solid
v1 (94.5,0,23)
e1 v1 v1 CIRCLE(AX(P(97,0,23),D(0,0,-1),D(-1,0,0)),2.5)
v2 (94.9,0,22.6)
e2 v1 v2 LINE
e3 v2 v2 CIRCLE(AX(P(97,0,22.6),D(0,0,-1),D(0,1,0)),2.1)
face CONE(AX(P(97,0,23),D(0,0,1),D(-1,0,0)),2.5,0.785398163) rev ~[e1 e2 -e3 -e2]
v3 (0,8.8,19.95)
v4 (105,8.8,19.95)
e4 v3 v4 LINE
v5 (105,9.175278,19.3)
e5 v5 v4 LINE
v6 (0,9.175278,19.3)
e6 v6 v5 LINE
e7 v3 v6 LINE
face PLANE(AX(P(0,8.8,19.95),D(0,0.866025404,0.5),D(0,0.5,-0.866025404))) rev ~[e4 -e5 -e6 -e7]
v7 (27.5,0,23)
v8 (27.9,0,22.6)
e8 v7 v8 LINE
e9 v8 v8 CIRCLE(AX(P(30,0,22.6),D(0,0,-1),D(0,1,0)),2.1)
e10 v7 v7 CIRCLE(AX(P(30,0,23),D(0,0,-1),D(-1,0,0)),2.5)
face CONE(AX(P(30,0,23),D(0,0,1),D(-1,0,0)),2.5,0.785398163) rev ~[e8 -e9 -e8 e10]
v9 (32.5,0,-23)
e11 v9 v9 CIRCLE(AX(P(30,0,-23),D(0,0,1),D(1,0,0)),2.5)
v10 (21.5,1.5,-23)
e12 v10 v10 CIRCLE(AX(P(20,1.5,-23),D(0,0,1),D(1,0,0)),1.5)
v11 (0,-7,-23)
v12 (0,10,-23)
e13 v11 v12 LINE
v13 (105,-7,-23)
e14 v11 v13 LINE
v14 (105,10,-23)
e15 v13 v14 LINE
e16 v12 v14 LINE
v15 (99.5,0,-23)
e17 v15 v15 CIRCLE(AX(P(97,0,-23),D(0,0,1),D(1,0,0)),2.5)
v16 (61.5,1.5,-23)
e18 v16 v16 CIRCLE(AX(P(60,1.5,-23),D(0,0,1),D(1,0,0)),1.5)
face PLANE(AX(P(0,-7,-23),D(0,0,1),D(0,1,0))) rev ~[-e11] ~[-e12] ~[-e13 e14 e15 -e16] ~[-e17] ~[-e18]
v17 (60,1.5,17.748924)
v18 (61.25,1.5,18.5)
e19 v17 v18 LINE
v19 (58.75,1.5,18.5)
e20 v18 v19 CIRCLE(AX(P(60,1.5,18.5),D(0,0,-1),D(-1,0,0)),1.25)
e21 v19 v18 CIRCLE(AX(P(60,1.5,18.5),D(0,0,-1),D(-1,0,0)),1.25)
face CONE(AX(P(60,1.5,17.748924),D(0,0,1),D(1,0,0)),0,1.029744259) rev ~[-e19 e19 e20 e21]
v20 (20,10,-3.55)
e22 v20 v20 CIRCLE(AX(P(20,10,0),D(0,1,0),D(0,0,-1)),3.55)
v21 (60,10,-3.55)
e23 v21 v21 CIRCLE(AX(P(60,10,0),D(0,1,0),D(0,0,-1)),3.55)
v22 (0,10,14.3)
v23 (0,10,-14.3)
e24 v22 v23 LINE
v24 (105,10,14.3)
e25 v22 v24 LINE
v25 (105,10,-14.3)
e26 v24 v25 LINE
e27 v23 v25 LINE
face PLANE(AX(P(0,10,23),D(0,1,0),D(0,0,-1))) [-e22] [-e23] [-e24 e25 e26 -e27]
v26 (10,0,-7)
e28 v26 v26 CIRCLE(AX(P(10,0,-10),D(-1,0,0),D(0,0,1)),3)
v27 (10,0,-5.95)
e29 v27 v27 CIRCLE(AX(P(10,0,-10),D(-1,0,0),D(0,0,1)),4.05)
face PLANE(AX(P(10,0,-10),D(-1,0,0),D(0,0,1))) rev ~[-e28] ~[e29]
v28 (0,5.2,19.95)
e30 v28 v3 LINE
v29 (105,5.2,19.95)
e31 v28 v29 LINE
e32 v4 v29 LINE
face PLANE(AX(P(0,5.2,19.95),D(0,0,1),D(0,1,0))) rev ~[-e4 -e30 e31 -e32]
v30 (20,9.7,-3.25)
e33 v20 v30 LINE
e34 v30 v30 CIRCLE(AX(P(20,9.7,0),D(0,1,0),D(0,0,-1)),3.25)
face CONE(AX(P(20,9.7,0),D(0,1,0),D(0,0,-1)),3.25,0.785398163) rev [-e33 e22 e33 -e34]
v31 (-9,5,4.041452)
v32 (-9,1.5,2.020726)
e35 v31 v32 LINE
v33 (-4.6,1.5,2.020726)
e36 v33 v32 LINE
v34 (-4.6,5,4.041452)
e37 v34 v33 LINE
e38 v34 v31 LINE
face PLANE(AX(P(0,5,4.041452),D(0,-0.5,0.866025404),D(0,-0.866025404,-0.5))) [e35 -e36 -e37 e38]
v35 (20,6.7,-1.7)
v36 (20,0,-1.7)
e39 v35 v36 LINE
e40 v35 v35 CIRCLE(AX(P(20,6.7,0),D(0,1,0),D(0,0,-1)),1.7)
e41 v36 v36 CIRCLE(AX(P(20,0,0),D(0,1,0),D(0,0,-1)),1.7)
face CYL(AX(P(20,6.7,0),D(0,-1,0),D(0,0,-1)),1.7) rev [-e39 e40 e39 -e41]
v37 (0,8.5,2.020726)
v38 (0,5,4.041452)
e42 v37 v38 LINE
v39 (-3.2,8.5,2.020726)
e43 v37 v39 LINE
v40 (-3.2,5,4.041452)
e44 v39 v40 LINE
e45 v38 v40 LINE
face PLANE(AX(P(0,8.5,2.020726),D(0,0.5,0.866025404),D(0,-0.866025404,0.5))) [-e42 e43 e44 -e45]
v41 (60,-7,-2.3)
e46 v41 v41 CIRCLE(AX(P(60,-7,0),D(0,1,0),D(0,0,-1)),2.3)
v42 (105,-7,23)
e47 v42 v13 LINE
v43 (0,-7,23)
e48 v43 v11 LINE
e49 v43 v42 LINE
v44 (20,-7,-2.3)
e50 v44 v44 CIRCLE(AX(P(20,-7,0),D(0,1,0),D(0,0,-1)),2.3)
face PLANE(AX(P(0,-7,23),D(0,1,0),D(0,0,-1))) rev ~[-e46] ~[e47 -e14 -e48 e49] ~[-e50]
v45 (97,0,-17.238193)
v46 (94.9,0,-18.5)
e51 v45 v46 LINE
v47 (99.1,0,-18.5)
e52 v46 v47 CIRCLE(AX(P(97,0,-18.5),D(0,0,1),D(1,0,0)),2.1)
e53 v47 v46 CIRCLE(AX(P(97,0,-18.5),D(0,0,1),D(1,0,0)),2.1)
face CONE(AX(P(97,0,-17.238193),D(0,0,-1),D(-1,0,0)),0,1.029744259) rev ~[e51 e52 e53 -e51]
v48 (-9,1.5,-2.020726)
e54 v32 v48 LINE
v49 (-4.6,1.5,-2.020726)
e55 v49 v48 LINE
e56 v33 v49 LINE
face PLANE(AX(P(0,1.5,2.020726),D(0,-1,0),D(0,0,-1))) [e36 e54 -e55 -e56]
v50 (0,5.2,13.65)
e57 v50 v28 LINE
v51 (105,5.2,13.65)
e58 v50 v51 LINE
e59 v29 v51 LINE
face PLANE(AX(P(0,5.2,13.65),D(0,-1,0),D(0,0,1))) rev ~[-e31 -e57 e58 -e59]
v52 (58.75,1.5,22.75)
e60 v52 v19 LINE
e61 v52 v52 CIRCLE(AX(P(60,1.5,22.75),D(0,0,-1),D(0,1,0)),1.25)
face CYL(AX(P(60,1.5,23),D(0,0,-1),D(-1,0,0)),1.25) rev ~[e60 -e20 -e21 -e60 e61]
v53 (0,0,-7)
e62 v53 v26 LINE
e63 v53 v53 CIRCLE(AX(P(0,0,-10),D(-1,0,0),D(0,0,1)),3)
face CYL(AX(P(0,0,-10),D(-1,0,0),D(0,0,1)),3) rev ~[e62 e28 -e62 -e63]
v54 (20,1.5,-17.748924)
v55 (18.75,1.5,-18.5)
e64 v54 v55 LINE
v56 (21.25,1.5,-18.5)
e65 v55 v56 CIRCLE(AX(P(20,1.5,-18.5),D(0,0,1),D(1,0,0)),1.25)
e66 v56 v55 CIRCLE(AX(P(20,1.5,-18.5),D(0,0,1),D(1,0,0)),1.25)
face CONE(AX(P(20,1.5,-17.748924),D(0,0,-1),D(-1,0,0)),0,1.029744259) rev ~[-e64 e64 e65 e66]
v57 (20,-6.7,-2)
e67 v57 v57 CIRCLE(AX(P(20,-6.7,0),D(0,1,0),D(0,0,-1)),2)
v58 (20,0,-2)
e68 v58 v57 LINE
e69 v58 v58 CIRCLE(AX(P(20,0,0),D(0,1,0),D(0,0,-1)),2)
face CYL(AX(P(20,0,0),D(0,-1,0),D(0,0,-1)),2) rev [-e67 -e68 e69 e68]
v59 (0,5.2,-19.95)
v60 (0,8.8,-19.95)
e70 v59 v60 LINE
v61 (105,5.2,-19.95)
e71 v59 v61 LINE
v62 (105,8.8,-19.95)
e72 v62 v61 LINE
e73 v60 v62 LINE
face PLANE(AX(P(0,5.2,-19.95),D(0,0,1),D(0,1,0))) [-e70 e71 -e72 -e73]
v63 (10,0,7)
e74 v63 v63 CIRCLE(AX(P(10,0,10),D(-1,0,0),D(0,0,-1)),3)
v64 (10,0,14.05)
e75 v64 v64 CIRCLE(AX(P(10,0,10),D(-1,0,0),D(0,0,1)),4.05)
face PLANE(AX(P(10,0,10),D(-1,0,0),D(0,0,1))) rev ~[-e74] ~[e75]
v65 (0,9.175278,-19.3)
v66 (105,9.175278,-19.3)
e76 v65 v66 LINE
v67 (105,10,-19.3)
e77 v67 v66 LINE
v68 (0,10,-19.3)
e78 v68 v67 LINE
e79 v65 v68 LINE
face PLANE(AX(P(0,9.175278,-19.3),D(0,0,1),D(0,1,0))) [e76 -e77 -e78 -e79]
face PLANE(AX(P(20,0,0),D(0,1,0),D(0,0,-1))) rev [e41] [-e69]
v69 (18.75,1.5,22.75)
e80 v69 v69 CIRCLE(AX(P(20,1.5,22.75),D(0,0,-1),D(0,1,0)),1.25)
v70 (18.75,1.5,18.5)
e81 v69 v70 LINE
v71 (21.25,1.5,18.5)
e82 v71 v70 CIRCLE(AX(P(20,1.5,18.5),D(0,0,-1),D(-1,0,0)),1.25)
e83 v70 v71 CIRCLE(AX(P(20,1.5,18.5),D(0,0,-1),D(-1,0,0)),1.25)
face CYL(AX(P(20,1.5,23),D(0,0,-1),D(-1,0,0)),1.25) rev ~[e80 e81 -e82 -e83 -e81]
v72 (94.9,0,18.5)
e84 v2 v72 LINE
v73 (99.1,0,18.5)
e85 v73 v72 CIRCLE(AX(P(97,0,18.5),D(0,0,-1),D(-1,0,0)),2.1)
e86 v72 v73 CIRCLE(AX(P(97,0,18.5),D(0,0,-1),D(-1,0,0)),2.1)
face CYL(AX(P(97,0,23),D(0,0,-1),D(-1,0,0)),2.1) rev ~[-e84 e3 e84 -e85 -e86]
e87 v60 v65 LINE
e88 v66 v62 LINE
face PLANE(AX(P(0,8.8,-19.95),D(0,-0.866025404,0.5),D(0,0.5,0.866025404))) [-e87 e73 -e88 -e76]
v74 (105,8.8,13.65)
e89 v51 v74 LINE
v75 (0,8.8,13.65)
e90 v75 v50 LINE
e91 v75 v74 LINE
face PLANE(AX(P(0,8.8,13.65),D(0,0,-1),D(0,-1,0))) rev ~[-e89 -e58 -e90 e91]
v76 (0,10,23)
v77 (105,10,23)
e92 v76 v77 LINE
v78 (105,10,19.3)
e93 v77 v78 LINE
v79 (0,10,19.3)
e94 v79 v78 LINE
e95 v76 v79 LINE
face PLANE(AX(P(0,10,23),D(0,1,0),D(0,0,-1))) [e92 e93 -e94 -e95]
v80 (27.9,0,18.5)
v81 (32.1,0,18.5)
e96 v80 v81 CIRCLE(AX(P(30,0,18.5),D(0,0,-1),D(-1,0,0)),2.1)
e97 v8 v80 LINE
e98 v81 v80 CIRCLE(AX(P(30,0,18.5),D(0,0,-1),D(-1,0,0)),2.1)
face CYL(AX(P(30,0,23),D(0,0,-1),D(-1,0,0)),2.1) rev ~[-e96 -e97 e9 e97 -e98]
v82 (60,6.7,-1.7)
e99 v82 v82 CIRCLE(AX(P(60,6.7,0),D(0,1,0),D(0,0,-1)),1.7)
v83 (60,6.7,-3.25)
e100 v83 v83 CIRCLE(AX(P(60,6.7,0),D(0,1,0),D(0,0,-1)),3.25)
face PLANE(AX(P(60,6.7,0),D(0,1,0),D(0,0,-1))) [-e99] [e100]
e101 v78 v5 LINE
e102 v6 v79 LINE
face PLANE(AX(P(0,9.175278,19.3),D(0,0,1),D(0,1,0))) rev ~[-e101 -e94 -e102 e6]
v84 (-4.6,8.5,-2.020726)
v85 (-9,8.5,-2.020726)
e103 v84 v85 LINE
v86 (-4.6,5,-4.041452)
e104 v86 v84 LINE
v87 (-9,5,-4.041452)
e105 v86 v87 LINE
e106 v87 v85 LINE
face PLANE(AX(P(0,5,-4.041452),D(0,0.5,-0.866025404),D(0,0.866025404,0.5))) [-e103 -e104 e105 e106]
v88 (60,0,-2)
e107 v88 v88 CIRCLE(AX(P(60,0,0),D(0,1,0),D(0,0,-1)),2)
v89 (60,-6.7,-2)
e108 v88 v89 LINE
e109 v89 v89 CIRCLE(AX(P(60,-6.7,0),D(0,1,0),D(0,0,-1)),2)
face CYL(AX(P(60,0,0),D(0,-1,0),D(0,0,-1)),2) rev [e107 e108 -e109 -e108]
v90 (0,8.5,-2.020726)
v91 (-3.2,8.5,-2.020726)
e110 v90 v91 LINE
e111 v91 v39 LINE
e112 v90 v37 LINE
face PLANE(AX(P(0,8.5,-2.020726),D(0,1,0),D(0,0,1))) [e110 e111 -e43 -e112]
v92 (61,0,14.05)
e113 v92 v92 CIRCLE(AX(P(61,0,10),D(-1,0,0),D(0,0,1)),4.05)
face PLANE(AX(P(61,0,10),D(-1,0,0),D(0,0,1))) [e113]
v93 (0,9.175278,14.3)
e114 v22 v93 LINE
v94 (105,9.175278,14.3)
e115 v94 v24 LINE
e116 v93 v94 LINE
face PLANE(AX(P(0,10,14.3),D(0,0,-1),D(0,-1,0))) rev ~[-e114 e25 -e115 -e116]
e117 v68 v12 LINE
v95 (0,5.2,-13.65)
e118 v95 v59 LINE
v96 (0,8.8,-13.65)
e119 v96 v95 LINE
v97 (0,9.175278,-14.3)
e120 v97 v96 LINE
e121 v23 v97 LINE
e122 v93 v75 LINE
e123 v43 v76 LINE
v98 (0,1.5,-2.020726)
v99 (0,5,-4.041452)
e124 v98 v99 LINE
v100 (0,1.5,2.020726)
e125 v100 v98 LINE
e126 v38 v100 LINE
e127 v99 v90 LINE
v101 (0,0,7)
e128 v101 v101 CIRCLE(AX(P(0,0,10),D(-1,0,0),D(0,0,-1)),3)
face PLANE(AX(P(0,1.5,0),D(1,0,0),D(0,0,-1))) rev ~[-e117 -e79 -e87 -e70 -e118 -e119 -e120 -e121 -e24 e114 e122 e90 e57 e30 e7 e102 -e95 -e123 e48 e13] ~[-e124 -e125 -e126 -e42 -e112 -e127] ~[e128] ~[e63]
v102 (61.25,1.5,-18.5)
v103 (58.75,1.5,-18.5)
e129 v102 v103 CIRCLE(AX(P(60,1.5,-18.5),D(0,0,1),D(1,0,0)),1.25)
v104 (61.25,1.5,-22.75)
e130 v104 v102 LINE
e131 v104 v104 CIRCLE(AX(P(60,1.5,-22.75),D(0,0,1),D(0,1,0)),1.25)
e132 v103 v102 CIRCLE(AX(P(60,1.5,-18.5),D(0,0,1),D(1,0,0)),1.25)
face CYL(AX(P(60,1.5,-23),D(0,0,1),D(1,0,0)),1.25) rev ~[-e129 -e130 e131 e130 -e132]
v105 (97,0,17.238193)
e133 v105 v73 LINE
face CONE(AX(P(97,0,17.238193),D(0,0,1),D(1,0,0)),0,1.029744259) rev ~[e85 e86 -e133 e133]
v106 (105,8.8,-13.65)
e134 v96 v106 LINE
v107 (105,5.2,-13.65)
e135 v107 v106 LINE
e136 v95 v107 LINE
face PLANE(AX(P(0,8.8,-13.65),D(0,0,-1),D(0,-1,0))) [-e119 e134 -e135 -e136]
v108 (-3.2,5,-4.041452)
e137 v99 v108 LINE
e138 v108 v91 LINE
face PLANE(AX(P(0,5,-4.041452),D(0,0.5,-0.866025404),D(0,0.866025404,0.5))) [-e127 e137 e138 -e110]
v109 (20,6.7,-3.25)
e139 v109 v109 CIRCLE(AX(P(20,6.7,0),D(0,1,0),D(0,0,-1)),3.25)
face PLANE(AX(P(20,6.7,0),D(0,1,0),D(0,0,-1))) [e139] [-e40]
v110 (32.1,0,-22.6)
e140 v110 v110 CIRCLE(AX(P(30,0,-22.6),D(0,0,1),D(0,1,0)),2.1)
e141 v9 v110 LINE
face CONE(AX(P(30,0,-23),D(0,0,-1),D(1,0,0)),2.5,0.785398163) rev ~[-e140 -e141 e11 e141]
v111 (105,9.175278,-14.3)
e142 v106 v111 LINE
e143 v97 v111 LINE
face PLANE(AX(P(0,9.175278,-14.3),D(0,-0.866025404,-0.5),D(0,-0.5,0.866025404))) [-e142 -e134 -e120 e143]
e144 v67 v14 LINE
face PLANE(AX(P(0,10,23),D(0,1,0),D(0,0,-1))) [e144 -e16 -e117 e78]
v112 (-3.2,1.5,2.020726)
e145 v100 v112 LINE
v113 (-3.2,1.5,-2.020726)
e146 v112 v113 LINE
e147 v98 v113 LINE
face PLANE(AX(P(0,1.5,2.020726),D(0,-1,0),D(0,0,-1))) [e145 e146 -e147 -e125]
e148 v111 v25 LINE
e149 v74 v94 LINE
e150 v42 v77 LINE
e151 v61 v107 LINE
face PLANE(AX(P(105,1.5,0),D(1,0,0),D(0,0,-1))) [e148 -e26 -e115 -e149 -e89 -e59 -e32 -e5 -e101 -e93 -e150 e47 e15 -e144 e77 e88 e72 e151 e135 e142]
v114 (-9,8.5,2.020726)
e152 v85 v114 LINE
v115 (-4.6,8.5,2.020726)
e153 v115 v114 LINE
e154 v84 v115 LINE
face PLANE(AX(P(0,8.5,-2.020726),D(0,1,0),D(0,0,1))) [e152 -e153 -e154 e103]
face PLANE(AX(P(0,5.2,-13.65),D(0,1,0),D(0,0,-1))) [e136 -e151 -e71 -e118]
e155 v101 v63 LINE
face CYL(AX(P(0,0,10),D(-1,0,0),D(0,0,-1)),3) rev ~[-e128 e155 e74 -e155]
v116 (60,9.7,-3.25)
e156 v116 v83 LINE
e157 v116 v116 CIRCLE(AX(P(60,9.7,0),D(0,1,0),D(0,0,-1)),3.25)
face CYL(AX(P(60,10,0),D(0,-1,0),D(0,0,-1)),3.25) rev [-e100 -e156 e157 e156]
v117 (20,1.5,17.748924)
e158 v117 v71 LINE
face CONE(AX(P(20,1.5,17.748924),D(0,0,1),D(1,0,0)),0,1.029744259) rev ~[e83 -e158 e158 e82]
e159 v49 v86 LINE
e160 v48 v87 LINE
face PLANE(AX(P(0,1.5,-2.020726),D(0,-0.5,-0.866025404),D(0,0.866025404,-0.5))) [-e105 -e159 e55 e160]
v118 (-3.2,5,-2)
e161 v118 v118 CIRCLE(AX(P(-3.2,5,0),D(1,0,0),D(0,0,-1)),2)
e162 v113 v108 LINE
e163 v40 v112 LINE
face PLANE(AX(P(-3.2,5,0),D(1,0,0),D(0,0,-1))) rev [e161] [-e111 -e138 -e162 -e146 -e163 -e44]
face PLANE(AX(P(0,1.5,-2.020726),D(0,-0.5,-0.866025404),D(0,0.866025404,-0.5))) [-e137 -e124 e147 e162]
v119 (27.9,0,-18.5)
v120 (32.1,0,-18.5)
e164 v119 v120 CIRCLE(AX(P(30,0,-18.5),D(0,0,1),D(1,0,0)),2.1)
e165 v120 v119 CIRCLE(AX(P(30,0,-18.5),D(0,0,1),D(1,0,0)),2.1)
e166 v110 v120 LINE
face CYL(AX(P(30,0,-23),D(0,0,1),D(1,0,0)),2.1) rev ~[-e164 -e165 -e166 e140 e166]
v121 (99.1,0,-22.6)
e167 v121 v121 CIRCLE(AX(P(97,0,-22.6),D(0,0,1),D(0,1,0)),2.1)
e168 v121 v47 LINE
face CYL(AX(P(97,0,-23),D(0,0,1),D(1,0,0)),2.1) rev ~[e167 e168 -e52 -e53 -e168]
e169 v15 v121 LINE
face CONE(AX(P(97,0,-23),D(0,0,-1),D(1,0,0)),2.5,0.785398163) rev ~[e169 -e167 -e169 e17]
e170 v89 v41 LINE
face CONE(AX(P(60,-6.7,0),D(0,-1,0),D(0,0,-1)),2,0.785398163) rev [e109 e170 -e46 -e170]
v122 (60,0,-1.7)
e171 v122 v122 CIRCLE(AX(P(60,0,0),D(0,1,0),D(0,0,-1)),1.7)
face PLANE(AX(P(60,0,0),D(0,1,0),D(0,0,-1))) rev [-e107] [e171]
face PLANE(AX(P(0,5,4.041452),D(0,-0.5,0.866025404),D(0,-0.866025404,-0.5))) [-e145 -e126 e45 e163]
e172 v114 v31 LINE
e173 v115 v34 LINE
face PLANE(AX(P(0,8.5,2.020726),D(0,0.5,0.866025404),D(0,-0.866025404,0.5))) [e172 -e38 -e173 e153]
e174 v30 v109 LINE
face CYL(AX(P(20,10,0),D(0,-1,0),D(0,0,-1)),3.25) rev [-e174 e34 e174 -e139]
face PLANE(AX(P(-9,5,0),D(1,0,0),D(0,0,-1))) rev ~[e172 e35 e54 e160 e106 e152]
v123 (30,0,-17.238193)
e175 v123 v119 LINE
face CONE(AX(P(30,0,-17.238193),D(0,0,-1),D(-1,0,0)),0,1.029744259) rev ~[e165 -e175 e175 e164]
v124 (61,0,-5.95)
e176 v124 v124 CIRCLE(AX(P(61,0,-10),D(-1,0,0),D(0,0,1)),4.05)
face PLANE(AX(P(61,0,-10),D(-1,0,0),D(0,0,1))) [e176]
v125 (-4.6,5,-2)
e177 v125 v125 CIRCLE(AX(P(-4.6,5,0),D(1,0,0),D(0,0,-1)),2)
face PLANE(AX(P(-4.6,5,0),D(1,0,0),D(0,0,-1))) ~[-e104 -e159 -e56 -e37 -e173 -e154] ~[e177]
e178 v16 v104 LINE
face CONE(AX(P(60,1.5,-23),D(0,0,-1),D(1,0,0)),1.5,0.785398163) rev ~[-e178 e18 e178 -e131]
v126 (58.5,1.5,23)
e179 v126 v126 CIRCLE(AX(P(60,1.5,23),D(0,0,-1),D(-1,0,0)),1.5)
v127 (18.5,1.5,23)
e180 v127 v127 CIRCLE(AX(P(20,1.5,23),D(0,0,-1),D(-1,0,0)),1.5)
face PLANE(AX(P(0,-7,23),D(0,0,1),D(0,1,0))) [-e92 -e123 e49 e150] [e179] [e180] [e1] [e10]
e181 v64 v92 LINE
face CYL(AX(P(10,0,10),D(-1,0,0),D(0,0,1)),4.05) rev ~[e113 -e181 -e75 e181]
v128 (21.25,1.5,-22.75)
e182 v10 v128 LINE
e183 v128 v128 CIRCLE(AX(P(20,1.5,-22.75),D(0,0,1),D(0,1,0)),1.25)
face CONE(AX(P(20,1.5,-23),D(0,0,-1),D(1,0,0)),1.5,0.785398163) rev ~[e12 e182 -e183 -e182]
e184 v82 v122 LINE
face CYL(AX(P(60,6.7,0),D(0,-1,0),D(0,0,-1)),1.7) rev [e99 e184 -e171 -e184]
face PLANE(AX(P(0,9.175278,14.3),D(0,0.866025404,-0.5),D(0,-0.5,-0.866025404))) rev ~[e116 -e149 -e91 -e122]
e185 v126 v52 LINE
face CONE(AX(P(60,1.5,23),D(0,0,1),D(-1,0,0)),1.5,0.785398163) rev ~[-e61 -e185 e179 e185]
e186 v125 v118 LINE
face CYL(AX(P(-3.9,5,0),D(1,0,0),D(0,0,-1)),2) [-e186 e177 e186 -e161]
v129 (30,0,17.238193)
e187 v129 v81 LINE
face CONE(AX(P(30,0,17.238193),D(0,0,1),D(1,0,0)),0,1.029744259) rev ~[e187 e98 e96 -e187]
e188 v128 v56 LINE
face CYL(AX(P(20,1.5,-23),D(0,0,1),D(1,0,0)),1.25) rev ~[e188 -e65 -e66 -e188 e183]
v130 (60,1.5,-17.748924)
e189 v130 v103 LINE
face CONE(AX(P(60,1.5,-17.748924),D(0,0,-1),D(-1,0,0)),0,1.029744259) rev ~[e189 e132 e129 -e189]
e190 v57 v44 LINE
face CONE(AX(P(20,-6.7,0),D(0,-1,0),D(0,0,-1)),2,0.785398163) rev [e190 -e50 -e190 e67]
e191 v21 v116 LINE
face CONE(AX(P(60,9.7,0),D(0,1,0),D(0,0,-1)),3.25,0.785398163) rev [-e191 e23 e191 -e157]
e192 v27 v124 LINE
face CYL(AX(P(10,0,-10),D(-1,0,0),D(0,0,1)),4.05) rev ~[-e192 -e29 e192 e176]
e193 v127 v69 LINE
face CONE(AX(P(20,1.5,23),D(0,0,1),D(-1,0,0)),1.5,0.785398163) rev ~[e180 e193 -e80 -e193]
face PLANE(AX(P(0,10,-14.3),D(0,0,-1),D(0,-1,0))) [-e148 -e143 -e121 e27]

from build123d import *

# Parameters (mm, degrees)
BODY_SKETCH_W                                = 46
BODY_SKETCH_H                                = 17
BODY_DEPTH                                   = 105
BODY_ROD_HOLES_SKETCH_R                      = 3
BODY_ROD_HOLES_DEPTH                         = 10
BODY_PISTON_HOLES_SKETCH_R                   = 4.05
BODY_PISTON_HOLES_DEPTH                      = 51
TOP_SWITCH_GROOVES_DEPTH                     = 108.953693777
SHCS_MGT_HOLE_CHAM_SIZE                      = 0.3
SHCS_MGT_HOLE_PAT_COUNT                      = 2
SHCS_MGT_HOLE_PAT_PITCH                      = 40
SHCS_MGT_HOLE_CHAM_OF_SHCS_MGT_HOLE_PAT_SIZE = 0.3
SHCS_MGT_HOLE_BOT_TAP_AT_2_COUNT             = 2
SHCS_MGT_HOLE_BOT_TAP_AT_2_PITCH             = 40
ADJUSTER_NUT_DEPTH                           = 9
ADJUSTER_NUT_THREADS_SKETCH_W                = 1.4
ADJUSTER_NUT_THREADS_SKETCH_H                = 17
TAP_DRILL_FOR_M5X0_8_TAP1_D                  = 4.2
TAP_DRILL_FOR_M5X0_8_TAP1_DEPTH              = 4.5
TAP_DRILL_FOR_M5X0_8_TAP1_CSINK_D            = 5
TAP_DRILL_FOR_M5X0_8_TAP1_CSINK_ANGLE        = 90
TAP_DRILL_FOR_M5X0_8_TAP1_TIP                = 1.2618073
TAP_DRILL_FOR_M5X0_8_TAP2_D                  = 4.2
TAP_DRILL_FOR_M5X0_8_TAP2_DEPTH              = 4.5
TAP_DRILL_FOR_M5X0_8_TAP2_CSINK_D            = 5
TAP_DRILL_FOR_M5X0_8_TAP2_CSINK_ANGLE        = 90
TAP_DRILL_FOR_M5X0_8_TAP2_TIP                = 1.2618073
MOUNT_HOLES_1_D                              = 2.5
MOUNT_HOLES_1_DEPTH                          = 4.5
MOUNT_HOLES_1_CSINK_D                        = 3
MOUNT_HOLES_1_CSINK_ANGLE                    = 90
MOUNT_HOLES_1_TIP                            = 0.751075774
MOUNT_HOLES_2_D                              = 2.5
MOUNT_HOLES_2_DEPTH                          = 4.5
MOUNT_HOLES_2_CSINK_D                        = 3
MOUNT_HOLES_2_CSINK_ANGLE                    = 90
MOUNT_HOLES_2_TIP                            = 0.751075774


with BuildPart() as part:
    # Body_Sketch → Body (new body)
    with BuildSketch(Plane(origin=(0, 0, 0), x_dir=(0, 0, -1), z_dir=(1, 0, 0))):
        with Locations((0, 1.5)):
            Rectangle(BODY_SKETCH_W, BODY_SKETCH_H)
    extrude(amount=BODY_DEPTH)

    # Body Rod Holes_Sketch → Body Rod Holes (cut)
    with BuildSketch(Plane.ZY):
        with Locations((-10, 0)):
            Circle(BODY_ROD_HOLES_SKETCH_R)
        with Locations(Location((10, 0, 0), (0, 0, 180))):
            Circle(BODY_ROD_HOLES_SKETCH_R)
    extrude(amount=-BODY_ROD_HOLES_DEPTH, mode=Mode.SUBTRACT)

    # Body Piston Holes_Sketch → Body Piston Holes (cut)
    with BuildSketch(Plane.ZY.offset(-10)):
        with Locations((10, 0)):
            Circle(BODY_PISTON_HOLES_SKETCH_R)
        with Locations((-10, 0)):
            Circle(BODY_PISTON_HOLES_SKETCH_R)
    extrude(amount=-BODY_PISTON_HOLES_DEPTH, mode=Mode.SUBTRACT)

    # Top Switch Grooves_Sketch → Top Switch Grooves (cut, through all)
    with BuildSketch(Plane.ZY):
        Polygon((13.65, 5.2), (19.95, 5.2), (19.95, 8.8), (19.3, 9.175277675), (19.3, 10), (14.3, 10), (14.3, 9.175277675), (13.65, 8.8), align=None)
        Polygon((-13.65, 8.8), (-13.65, 5.2), (-19.95, 5.2), (-19.95, 8.8), (-19.3, 9.175277675), (-19.3, 10), (-14.3, 10), (-14.3, 9.175277675), align=None)
    extrude(amount=-TOP_SWITCH_GROOVES_DEPTH, mode=Mode.SUBTRACT)

    # SHCS MGT Hole_Sketch → SHCS MGT Hole (revolve, cut)
    with BuildSketch(Plane.XY, mode=Mode.PRIVATE) as shcs_mgt_hole_sk:
        Polygon((20, 10), (16.75, 10), (16.75, 6.7), (18.3, 6.7), (18.3, -7), (20, -7), align=None)
    shcs_mgt_hole = revolve(shcs_mgt_hole_sk.sketch.rotate(Axis((20, -11.506886035, 0), (0, 1, 0)), 270), axis=Axis((20, -11.506886035, 0), (0, 1, 0)), mode=Mode.SUBTRACT)

    # SHCS MGT Hole Cham
    shcs_mgt_hole_cham_edges = [part.edges().sort_by_distance(p)[0] for p in [
        (20, 10, 3.25),
    ]]
    chamfer(shcs_mgt_hole_cham_edges, length=SHCS_MGT_HOLE_CHAM_SIZE)

    # SHCS MGT Hole Pat: SHCS MGT Hole ×2
    with Locations(*[(i * SHCS_MGT_HOLE_PAT_PITCH, 0, 0) for i in range(1, SHCS_MGT_HOLE_PAT_COUNT)]):
        add(shcs_mgt_hole, mode=Mode.SUBTRACT)

    # SHCS MGT Hole Cham of SHCS MGT Hole Pat
    shcs_mgt_hole_cham_of_shcs_mgt_hole_pat_edges = [part.edges().sort_by_distance(p)[0] for p in [
        (60, 10, 3.25),
    ]]
    chamfer(shcs_mgt_hole_cham_of_shcs_mgt_hole_pat_edges, length=SHCS_MGT_HOLE_CHAM_OF_SHCS_MGT_HOLE_PAT_SIZE)

    # SHCS MGT Hole Bot Tap Profile → SHCS MGT Hole Bot Tap (revolve, cut)
    with BuildSketch(Plane(origin=(20, -7, 0), x_dir=(0, 0, -1), z_dir=(1, 0, 0))):
        Polygon((0, 0), (0, 9.021463052), (1.7, 8), (1.7, 7), (2, 7), (2, 0.3), (2.3, 0), align=None)
    shcs_mgt_hole_bot_tap = revolve(axis=Axis((20, -13.35, 0), (0, 1, 0)), mode=Mode.SUBTRACT)

    # SHCS MGT Hole Bot Tap at 2: SHCS MGT Hole Bot Tap ×2
    with Locations(*[(i * SHCS_MGT_HOLE_BOT_TAP_AT_2_PITCH, 0, 0) for i in range(1, SHCS_MGT_HOLE_BOT_TAP_AT_2_COUNT)]):
        add(shcs_mgt_hole_bot_tap, mode=Mode.SUBTRACT)

    # Adjuster Nut_Sketch → Adjuster Nut (add)
    with BuildSketch(Plane.ZY):
        Polygon((-2.020725942, 8.5), (2.020725942, 8.5), (4.041451884, 5), (2.020725942, 1.5), (-2.020725942, 1.5), (-4.041451884, 5), align=None)
    extrude(amount=ADJUSTER_NUT_DEPTH)

    # Adjuster Nut Threads_Sketch → Adjuster Nut Threads (revolve, cut)
    with BuildSketch(Plane.XY, mode=Mode.PRIVATE) as adjuster_nut_threads_sk:
        with Locations((-3.9, 15.5)):
            Rectangle(ADJUSTER_NUT_THREADS_SKETCH_W, ADJUSTER_NUT_THREADS_SKETCH_H)
    revolve(adjuster_nut_threads_sk.sketch.rotate(Axis((-6.476, 5, 0), (1, 0, 0)), 270), axis=Axis((-6.476, 5, 0), (1, 0, 0)), mode=Mode.SUBTRACT)

    # Tap Drill for M5x0.8 Tap1
    with Locations(Plane.XY.offset(23)):
        with Locations((30, 0), (97, 0)):
            CounterSinkHole(TAP_DRILL_FOR_M5X0_8_TAP1_D / 2, TAP_DRILL_FOR_M5X0_8_TAP1_CSINK_D / 2, depth=TAP_DRILL_FOR_M5X0_8_TAP1_DEPTH, counter_sink_angle=TAP_DRILL_FOR_M5X0_8_TAP1_CSINK_ANGLE)
            with Locations((0, 0, -(TAP_DRILL_FOR_M5X0_8_TAP1_DEPTH + TAP_DRILL_FOR_M5X0_8_TAP1_TIP / 2))):  # 118° drill point
                Cone(0, TAP_DRILL_FOR_M5X0_8_TAP1_D / 2, TAP_DRILL_FOR_M5X0_8_TAP1_TIP, mode=Mode.SUBTRACT)

    # Tap Drill for M5x0.8 Tap2
    with Locations(Plane(origin=(0, 0, -23), x_dir=(-1, 0, 0), z_dir=(0, 0, -1))):
        with Locations((-97, 0), (-30, 0)):
            CounterSinkHole(TAP_DRILL_FOR_M5X0_8_TAP2_D / 2, TAP_DRILL_FOR_M5X0_8_TAP2_CSINK_D / 2, depth=TAP_DRILL_FOR_M5X0_8_TAP2_DEPTH, counter_sink_angle=TAP_DRILL_FOR_M5X0_8_TAP2_CSINK_ANGLE)
            with Locations((0, 0, -(TAP_DRILL_FOR_M5X0_8_TAP2_DEPTH + TAP_DRILL_FOR_M5X0_8_TAP2_TIP / 2))):  # 118° drill point
                Cone(0, TAP_DRILL_FOR_M5X0_8_TAP2_D / 2, TAP_DRILL_FOR_M5X0_8_TAP2_TIP, mode=Mode.SUBTRACT)

    # Mount_Holes_1
    with Locations(Plane.XY.offset(23)):
        with Locations((20, 1.5), (60, 1.5)):
            CounterSinkHole(MOUNT_HOLES_1_D / 2, MOUNT_HOLES_1_CSINK_D / 2, depth=MOUNT_HOLES_1_DEPTH, counter_sink_angle=MOUNT_HOLES_1_CSINK_ANGLE)
            with Locations((0, 0, -(MOUNT_HOLES_1_DEPTH + MOUNT_HOLES_1_TIP / 2))):  # 118° drill point
                Cone(0, MOUNT_HOLES_1_D / 2, MOUNT_HOLES_1_TIP, mode=Mode.SUBTRACT)

    # Mount_Holes_2
    with Locations(Plane(origin=(0, 0, -23), x_dir=(-1, 0, 0), z_dir=(0, 0, -1))):
        with Locations((-60, 1.5), (-20, 1.5)):
            CounterSinkHole(MOUNT_HOLES_2_D / 2, MOUNT_HOLES_2_CSINK_D / 2, depth=MOUNT_HOLES_2_DEPTH, counter_sink_angle=MOUNT_HOLES_2_CSINK_ANGLE)
            with Locations((0, 0, -(MOUNT_HOLES_2_DEPTH + MOUNT_HOLES_2_TIP / 2))):  # 118° drill point
                Cone(0, MOUNT_HOLES_2_D / 2, MOUNT_HOLES_2_TIP, mode=Mode.SUBTRACT)


solid = part.part
